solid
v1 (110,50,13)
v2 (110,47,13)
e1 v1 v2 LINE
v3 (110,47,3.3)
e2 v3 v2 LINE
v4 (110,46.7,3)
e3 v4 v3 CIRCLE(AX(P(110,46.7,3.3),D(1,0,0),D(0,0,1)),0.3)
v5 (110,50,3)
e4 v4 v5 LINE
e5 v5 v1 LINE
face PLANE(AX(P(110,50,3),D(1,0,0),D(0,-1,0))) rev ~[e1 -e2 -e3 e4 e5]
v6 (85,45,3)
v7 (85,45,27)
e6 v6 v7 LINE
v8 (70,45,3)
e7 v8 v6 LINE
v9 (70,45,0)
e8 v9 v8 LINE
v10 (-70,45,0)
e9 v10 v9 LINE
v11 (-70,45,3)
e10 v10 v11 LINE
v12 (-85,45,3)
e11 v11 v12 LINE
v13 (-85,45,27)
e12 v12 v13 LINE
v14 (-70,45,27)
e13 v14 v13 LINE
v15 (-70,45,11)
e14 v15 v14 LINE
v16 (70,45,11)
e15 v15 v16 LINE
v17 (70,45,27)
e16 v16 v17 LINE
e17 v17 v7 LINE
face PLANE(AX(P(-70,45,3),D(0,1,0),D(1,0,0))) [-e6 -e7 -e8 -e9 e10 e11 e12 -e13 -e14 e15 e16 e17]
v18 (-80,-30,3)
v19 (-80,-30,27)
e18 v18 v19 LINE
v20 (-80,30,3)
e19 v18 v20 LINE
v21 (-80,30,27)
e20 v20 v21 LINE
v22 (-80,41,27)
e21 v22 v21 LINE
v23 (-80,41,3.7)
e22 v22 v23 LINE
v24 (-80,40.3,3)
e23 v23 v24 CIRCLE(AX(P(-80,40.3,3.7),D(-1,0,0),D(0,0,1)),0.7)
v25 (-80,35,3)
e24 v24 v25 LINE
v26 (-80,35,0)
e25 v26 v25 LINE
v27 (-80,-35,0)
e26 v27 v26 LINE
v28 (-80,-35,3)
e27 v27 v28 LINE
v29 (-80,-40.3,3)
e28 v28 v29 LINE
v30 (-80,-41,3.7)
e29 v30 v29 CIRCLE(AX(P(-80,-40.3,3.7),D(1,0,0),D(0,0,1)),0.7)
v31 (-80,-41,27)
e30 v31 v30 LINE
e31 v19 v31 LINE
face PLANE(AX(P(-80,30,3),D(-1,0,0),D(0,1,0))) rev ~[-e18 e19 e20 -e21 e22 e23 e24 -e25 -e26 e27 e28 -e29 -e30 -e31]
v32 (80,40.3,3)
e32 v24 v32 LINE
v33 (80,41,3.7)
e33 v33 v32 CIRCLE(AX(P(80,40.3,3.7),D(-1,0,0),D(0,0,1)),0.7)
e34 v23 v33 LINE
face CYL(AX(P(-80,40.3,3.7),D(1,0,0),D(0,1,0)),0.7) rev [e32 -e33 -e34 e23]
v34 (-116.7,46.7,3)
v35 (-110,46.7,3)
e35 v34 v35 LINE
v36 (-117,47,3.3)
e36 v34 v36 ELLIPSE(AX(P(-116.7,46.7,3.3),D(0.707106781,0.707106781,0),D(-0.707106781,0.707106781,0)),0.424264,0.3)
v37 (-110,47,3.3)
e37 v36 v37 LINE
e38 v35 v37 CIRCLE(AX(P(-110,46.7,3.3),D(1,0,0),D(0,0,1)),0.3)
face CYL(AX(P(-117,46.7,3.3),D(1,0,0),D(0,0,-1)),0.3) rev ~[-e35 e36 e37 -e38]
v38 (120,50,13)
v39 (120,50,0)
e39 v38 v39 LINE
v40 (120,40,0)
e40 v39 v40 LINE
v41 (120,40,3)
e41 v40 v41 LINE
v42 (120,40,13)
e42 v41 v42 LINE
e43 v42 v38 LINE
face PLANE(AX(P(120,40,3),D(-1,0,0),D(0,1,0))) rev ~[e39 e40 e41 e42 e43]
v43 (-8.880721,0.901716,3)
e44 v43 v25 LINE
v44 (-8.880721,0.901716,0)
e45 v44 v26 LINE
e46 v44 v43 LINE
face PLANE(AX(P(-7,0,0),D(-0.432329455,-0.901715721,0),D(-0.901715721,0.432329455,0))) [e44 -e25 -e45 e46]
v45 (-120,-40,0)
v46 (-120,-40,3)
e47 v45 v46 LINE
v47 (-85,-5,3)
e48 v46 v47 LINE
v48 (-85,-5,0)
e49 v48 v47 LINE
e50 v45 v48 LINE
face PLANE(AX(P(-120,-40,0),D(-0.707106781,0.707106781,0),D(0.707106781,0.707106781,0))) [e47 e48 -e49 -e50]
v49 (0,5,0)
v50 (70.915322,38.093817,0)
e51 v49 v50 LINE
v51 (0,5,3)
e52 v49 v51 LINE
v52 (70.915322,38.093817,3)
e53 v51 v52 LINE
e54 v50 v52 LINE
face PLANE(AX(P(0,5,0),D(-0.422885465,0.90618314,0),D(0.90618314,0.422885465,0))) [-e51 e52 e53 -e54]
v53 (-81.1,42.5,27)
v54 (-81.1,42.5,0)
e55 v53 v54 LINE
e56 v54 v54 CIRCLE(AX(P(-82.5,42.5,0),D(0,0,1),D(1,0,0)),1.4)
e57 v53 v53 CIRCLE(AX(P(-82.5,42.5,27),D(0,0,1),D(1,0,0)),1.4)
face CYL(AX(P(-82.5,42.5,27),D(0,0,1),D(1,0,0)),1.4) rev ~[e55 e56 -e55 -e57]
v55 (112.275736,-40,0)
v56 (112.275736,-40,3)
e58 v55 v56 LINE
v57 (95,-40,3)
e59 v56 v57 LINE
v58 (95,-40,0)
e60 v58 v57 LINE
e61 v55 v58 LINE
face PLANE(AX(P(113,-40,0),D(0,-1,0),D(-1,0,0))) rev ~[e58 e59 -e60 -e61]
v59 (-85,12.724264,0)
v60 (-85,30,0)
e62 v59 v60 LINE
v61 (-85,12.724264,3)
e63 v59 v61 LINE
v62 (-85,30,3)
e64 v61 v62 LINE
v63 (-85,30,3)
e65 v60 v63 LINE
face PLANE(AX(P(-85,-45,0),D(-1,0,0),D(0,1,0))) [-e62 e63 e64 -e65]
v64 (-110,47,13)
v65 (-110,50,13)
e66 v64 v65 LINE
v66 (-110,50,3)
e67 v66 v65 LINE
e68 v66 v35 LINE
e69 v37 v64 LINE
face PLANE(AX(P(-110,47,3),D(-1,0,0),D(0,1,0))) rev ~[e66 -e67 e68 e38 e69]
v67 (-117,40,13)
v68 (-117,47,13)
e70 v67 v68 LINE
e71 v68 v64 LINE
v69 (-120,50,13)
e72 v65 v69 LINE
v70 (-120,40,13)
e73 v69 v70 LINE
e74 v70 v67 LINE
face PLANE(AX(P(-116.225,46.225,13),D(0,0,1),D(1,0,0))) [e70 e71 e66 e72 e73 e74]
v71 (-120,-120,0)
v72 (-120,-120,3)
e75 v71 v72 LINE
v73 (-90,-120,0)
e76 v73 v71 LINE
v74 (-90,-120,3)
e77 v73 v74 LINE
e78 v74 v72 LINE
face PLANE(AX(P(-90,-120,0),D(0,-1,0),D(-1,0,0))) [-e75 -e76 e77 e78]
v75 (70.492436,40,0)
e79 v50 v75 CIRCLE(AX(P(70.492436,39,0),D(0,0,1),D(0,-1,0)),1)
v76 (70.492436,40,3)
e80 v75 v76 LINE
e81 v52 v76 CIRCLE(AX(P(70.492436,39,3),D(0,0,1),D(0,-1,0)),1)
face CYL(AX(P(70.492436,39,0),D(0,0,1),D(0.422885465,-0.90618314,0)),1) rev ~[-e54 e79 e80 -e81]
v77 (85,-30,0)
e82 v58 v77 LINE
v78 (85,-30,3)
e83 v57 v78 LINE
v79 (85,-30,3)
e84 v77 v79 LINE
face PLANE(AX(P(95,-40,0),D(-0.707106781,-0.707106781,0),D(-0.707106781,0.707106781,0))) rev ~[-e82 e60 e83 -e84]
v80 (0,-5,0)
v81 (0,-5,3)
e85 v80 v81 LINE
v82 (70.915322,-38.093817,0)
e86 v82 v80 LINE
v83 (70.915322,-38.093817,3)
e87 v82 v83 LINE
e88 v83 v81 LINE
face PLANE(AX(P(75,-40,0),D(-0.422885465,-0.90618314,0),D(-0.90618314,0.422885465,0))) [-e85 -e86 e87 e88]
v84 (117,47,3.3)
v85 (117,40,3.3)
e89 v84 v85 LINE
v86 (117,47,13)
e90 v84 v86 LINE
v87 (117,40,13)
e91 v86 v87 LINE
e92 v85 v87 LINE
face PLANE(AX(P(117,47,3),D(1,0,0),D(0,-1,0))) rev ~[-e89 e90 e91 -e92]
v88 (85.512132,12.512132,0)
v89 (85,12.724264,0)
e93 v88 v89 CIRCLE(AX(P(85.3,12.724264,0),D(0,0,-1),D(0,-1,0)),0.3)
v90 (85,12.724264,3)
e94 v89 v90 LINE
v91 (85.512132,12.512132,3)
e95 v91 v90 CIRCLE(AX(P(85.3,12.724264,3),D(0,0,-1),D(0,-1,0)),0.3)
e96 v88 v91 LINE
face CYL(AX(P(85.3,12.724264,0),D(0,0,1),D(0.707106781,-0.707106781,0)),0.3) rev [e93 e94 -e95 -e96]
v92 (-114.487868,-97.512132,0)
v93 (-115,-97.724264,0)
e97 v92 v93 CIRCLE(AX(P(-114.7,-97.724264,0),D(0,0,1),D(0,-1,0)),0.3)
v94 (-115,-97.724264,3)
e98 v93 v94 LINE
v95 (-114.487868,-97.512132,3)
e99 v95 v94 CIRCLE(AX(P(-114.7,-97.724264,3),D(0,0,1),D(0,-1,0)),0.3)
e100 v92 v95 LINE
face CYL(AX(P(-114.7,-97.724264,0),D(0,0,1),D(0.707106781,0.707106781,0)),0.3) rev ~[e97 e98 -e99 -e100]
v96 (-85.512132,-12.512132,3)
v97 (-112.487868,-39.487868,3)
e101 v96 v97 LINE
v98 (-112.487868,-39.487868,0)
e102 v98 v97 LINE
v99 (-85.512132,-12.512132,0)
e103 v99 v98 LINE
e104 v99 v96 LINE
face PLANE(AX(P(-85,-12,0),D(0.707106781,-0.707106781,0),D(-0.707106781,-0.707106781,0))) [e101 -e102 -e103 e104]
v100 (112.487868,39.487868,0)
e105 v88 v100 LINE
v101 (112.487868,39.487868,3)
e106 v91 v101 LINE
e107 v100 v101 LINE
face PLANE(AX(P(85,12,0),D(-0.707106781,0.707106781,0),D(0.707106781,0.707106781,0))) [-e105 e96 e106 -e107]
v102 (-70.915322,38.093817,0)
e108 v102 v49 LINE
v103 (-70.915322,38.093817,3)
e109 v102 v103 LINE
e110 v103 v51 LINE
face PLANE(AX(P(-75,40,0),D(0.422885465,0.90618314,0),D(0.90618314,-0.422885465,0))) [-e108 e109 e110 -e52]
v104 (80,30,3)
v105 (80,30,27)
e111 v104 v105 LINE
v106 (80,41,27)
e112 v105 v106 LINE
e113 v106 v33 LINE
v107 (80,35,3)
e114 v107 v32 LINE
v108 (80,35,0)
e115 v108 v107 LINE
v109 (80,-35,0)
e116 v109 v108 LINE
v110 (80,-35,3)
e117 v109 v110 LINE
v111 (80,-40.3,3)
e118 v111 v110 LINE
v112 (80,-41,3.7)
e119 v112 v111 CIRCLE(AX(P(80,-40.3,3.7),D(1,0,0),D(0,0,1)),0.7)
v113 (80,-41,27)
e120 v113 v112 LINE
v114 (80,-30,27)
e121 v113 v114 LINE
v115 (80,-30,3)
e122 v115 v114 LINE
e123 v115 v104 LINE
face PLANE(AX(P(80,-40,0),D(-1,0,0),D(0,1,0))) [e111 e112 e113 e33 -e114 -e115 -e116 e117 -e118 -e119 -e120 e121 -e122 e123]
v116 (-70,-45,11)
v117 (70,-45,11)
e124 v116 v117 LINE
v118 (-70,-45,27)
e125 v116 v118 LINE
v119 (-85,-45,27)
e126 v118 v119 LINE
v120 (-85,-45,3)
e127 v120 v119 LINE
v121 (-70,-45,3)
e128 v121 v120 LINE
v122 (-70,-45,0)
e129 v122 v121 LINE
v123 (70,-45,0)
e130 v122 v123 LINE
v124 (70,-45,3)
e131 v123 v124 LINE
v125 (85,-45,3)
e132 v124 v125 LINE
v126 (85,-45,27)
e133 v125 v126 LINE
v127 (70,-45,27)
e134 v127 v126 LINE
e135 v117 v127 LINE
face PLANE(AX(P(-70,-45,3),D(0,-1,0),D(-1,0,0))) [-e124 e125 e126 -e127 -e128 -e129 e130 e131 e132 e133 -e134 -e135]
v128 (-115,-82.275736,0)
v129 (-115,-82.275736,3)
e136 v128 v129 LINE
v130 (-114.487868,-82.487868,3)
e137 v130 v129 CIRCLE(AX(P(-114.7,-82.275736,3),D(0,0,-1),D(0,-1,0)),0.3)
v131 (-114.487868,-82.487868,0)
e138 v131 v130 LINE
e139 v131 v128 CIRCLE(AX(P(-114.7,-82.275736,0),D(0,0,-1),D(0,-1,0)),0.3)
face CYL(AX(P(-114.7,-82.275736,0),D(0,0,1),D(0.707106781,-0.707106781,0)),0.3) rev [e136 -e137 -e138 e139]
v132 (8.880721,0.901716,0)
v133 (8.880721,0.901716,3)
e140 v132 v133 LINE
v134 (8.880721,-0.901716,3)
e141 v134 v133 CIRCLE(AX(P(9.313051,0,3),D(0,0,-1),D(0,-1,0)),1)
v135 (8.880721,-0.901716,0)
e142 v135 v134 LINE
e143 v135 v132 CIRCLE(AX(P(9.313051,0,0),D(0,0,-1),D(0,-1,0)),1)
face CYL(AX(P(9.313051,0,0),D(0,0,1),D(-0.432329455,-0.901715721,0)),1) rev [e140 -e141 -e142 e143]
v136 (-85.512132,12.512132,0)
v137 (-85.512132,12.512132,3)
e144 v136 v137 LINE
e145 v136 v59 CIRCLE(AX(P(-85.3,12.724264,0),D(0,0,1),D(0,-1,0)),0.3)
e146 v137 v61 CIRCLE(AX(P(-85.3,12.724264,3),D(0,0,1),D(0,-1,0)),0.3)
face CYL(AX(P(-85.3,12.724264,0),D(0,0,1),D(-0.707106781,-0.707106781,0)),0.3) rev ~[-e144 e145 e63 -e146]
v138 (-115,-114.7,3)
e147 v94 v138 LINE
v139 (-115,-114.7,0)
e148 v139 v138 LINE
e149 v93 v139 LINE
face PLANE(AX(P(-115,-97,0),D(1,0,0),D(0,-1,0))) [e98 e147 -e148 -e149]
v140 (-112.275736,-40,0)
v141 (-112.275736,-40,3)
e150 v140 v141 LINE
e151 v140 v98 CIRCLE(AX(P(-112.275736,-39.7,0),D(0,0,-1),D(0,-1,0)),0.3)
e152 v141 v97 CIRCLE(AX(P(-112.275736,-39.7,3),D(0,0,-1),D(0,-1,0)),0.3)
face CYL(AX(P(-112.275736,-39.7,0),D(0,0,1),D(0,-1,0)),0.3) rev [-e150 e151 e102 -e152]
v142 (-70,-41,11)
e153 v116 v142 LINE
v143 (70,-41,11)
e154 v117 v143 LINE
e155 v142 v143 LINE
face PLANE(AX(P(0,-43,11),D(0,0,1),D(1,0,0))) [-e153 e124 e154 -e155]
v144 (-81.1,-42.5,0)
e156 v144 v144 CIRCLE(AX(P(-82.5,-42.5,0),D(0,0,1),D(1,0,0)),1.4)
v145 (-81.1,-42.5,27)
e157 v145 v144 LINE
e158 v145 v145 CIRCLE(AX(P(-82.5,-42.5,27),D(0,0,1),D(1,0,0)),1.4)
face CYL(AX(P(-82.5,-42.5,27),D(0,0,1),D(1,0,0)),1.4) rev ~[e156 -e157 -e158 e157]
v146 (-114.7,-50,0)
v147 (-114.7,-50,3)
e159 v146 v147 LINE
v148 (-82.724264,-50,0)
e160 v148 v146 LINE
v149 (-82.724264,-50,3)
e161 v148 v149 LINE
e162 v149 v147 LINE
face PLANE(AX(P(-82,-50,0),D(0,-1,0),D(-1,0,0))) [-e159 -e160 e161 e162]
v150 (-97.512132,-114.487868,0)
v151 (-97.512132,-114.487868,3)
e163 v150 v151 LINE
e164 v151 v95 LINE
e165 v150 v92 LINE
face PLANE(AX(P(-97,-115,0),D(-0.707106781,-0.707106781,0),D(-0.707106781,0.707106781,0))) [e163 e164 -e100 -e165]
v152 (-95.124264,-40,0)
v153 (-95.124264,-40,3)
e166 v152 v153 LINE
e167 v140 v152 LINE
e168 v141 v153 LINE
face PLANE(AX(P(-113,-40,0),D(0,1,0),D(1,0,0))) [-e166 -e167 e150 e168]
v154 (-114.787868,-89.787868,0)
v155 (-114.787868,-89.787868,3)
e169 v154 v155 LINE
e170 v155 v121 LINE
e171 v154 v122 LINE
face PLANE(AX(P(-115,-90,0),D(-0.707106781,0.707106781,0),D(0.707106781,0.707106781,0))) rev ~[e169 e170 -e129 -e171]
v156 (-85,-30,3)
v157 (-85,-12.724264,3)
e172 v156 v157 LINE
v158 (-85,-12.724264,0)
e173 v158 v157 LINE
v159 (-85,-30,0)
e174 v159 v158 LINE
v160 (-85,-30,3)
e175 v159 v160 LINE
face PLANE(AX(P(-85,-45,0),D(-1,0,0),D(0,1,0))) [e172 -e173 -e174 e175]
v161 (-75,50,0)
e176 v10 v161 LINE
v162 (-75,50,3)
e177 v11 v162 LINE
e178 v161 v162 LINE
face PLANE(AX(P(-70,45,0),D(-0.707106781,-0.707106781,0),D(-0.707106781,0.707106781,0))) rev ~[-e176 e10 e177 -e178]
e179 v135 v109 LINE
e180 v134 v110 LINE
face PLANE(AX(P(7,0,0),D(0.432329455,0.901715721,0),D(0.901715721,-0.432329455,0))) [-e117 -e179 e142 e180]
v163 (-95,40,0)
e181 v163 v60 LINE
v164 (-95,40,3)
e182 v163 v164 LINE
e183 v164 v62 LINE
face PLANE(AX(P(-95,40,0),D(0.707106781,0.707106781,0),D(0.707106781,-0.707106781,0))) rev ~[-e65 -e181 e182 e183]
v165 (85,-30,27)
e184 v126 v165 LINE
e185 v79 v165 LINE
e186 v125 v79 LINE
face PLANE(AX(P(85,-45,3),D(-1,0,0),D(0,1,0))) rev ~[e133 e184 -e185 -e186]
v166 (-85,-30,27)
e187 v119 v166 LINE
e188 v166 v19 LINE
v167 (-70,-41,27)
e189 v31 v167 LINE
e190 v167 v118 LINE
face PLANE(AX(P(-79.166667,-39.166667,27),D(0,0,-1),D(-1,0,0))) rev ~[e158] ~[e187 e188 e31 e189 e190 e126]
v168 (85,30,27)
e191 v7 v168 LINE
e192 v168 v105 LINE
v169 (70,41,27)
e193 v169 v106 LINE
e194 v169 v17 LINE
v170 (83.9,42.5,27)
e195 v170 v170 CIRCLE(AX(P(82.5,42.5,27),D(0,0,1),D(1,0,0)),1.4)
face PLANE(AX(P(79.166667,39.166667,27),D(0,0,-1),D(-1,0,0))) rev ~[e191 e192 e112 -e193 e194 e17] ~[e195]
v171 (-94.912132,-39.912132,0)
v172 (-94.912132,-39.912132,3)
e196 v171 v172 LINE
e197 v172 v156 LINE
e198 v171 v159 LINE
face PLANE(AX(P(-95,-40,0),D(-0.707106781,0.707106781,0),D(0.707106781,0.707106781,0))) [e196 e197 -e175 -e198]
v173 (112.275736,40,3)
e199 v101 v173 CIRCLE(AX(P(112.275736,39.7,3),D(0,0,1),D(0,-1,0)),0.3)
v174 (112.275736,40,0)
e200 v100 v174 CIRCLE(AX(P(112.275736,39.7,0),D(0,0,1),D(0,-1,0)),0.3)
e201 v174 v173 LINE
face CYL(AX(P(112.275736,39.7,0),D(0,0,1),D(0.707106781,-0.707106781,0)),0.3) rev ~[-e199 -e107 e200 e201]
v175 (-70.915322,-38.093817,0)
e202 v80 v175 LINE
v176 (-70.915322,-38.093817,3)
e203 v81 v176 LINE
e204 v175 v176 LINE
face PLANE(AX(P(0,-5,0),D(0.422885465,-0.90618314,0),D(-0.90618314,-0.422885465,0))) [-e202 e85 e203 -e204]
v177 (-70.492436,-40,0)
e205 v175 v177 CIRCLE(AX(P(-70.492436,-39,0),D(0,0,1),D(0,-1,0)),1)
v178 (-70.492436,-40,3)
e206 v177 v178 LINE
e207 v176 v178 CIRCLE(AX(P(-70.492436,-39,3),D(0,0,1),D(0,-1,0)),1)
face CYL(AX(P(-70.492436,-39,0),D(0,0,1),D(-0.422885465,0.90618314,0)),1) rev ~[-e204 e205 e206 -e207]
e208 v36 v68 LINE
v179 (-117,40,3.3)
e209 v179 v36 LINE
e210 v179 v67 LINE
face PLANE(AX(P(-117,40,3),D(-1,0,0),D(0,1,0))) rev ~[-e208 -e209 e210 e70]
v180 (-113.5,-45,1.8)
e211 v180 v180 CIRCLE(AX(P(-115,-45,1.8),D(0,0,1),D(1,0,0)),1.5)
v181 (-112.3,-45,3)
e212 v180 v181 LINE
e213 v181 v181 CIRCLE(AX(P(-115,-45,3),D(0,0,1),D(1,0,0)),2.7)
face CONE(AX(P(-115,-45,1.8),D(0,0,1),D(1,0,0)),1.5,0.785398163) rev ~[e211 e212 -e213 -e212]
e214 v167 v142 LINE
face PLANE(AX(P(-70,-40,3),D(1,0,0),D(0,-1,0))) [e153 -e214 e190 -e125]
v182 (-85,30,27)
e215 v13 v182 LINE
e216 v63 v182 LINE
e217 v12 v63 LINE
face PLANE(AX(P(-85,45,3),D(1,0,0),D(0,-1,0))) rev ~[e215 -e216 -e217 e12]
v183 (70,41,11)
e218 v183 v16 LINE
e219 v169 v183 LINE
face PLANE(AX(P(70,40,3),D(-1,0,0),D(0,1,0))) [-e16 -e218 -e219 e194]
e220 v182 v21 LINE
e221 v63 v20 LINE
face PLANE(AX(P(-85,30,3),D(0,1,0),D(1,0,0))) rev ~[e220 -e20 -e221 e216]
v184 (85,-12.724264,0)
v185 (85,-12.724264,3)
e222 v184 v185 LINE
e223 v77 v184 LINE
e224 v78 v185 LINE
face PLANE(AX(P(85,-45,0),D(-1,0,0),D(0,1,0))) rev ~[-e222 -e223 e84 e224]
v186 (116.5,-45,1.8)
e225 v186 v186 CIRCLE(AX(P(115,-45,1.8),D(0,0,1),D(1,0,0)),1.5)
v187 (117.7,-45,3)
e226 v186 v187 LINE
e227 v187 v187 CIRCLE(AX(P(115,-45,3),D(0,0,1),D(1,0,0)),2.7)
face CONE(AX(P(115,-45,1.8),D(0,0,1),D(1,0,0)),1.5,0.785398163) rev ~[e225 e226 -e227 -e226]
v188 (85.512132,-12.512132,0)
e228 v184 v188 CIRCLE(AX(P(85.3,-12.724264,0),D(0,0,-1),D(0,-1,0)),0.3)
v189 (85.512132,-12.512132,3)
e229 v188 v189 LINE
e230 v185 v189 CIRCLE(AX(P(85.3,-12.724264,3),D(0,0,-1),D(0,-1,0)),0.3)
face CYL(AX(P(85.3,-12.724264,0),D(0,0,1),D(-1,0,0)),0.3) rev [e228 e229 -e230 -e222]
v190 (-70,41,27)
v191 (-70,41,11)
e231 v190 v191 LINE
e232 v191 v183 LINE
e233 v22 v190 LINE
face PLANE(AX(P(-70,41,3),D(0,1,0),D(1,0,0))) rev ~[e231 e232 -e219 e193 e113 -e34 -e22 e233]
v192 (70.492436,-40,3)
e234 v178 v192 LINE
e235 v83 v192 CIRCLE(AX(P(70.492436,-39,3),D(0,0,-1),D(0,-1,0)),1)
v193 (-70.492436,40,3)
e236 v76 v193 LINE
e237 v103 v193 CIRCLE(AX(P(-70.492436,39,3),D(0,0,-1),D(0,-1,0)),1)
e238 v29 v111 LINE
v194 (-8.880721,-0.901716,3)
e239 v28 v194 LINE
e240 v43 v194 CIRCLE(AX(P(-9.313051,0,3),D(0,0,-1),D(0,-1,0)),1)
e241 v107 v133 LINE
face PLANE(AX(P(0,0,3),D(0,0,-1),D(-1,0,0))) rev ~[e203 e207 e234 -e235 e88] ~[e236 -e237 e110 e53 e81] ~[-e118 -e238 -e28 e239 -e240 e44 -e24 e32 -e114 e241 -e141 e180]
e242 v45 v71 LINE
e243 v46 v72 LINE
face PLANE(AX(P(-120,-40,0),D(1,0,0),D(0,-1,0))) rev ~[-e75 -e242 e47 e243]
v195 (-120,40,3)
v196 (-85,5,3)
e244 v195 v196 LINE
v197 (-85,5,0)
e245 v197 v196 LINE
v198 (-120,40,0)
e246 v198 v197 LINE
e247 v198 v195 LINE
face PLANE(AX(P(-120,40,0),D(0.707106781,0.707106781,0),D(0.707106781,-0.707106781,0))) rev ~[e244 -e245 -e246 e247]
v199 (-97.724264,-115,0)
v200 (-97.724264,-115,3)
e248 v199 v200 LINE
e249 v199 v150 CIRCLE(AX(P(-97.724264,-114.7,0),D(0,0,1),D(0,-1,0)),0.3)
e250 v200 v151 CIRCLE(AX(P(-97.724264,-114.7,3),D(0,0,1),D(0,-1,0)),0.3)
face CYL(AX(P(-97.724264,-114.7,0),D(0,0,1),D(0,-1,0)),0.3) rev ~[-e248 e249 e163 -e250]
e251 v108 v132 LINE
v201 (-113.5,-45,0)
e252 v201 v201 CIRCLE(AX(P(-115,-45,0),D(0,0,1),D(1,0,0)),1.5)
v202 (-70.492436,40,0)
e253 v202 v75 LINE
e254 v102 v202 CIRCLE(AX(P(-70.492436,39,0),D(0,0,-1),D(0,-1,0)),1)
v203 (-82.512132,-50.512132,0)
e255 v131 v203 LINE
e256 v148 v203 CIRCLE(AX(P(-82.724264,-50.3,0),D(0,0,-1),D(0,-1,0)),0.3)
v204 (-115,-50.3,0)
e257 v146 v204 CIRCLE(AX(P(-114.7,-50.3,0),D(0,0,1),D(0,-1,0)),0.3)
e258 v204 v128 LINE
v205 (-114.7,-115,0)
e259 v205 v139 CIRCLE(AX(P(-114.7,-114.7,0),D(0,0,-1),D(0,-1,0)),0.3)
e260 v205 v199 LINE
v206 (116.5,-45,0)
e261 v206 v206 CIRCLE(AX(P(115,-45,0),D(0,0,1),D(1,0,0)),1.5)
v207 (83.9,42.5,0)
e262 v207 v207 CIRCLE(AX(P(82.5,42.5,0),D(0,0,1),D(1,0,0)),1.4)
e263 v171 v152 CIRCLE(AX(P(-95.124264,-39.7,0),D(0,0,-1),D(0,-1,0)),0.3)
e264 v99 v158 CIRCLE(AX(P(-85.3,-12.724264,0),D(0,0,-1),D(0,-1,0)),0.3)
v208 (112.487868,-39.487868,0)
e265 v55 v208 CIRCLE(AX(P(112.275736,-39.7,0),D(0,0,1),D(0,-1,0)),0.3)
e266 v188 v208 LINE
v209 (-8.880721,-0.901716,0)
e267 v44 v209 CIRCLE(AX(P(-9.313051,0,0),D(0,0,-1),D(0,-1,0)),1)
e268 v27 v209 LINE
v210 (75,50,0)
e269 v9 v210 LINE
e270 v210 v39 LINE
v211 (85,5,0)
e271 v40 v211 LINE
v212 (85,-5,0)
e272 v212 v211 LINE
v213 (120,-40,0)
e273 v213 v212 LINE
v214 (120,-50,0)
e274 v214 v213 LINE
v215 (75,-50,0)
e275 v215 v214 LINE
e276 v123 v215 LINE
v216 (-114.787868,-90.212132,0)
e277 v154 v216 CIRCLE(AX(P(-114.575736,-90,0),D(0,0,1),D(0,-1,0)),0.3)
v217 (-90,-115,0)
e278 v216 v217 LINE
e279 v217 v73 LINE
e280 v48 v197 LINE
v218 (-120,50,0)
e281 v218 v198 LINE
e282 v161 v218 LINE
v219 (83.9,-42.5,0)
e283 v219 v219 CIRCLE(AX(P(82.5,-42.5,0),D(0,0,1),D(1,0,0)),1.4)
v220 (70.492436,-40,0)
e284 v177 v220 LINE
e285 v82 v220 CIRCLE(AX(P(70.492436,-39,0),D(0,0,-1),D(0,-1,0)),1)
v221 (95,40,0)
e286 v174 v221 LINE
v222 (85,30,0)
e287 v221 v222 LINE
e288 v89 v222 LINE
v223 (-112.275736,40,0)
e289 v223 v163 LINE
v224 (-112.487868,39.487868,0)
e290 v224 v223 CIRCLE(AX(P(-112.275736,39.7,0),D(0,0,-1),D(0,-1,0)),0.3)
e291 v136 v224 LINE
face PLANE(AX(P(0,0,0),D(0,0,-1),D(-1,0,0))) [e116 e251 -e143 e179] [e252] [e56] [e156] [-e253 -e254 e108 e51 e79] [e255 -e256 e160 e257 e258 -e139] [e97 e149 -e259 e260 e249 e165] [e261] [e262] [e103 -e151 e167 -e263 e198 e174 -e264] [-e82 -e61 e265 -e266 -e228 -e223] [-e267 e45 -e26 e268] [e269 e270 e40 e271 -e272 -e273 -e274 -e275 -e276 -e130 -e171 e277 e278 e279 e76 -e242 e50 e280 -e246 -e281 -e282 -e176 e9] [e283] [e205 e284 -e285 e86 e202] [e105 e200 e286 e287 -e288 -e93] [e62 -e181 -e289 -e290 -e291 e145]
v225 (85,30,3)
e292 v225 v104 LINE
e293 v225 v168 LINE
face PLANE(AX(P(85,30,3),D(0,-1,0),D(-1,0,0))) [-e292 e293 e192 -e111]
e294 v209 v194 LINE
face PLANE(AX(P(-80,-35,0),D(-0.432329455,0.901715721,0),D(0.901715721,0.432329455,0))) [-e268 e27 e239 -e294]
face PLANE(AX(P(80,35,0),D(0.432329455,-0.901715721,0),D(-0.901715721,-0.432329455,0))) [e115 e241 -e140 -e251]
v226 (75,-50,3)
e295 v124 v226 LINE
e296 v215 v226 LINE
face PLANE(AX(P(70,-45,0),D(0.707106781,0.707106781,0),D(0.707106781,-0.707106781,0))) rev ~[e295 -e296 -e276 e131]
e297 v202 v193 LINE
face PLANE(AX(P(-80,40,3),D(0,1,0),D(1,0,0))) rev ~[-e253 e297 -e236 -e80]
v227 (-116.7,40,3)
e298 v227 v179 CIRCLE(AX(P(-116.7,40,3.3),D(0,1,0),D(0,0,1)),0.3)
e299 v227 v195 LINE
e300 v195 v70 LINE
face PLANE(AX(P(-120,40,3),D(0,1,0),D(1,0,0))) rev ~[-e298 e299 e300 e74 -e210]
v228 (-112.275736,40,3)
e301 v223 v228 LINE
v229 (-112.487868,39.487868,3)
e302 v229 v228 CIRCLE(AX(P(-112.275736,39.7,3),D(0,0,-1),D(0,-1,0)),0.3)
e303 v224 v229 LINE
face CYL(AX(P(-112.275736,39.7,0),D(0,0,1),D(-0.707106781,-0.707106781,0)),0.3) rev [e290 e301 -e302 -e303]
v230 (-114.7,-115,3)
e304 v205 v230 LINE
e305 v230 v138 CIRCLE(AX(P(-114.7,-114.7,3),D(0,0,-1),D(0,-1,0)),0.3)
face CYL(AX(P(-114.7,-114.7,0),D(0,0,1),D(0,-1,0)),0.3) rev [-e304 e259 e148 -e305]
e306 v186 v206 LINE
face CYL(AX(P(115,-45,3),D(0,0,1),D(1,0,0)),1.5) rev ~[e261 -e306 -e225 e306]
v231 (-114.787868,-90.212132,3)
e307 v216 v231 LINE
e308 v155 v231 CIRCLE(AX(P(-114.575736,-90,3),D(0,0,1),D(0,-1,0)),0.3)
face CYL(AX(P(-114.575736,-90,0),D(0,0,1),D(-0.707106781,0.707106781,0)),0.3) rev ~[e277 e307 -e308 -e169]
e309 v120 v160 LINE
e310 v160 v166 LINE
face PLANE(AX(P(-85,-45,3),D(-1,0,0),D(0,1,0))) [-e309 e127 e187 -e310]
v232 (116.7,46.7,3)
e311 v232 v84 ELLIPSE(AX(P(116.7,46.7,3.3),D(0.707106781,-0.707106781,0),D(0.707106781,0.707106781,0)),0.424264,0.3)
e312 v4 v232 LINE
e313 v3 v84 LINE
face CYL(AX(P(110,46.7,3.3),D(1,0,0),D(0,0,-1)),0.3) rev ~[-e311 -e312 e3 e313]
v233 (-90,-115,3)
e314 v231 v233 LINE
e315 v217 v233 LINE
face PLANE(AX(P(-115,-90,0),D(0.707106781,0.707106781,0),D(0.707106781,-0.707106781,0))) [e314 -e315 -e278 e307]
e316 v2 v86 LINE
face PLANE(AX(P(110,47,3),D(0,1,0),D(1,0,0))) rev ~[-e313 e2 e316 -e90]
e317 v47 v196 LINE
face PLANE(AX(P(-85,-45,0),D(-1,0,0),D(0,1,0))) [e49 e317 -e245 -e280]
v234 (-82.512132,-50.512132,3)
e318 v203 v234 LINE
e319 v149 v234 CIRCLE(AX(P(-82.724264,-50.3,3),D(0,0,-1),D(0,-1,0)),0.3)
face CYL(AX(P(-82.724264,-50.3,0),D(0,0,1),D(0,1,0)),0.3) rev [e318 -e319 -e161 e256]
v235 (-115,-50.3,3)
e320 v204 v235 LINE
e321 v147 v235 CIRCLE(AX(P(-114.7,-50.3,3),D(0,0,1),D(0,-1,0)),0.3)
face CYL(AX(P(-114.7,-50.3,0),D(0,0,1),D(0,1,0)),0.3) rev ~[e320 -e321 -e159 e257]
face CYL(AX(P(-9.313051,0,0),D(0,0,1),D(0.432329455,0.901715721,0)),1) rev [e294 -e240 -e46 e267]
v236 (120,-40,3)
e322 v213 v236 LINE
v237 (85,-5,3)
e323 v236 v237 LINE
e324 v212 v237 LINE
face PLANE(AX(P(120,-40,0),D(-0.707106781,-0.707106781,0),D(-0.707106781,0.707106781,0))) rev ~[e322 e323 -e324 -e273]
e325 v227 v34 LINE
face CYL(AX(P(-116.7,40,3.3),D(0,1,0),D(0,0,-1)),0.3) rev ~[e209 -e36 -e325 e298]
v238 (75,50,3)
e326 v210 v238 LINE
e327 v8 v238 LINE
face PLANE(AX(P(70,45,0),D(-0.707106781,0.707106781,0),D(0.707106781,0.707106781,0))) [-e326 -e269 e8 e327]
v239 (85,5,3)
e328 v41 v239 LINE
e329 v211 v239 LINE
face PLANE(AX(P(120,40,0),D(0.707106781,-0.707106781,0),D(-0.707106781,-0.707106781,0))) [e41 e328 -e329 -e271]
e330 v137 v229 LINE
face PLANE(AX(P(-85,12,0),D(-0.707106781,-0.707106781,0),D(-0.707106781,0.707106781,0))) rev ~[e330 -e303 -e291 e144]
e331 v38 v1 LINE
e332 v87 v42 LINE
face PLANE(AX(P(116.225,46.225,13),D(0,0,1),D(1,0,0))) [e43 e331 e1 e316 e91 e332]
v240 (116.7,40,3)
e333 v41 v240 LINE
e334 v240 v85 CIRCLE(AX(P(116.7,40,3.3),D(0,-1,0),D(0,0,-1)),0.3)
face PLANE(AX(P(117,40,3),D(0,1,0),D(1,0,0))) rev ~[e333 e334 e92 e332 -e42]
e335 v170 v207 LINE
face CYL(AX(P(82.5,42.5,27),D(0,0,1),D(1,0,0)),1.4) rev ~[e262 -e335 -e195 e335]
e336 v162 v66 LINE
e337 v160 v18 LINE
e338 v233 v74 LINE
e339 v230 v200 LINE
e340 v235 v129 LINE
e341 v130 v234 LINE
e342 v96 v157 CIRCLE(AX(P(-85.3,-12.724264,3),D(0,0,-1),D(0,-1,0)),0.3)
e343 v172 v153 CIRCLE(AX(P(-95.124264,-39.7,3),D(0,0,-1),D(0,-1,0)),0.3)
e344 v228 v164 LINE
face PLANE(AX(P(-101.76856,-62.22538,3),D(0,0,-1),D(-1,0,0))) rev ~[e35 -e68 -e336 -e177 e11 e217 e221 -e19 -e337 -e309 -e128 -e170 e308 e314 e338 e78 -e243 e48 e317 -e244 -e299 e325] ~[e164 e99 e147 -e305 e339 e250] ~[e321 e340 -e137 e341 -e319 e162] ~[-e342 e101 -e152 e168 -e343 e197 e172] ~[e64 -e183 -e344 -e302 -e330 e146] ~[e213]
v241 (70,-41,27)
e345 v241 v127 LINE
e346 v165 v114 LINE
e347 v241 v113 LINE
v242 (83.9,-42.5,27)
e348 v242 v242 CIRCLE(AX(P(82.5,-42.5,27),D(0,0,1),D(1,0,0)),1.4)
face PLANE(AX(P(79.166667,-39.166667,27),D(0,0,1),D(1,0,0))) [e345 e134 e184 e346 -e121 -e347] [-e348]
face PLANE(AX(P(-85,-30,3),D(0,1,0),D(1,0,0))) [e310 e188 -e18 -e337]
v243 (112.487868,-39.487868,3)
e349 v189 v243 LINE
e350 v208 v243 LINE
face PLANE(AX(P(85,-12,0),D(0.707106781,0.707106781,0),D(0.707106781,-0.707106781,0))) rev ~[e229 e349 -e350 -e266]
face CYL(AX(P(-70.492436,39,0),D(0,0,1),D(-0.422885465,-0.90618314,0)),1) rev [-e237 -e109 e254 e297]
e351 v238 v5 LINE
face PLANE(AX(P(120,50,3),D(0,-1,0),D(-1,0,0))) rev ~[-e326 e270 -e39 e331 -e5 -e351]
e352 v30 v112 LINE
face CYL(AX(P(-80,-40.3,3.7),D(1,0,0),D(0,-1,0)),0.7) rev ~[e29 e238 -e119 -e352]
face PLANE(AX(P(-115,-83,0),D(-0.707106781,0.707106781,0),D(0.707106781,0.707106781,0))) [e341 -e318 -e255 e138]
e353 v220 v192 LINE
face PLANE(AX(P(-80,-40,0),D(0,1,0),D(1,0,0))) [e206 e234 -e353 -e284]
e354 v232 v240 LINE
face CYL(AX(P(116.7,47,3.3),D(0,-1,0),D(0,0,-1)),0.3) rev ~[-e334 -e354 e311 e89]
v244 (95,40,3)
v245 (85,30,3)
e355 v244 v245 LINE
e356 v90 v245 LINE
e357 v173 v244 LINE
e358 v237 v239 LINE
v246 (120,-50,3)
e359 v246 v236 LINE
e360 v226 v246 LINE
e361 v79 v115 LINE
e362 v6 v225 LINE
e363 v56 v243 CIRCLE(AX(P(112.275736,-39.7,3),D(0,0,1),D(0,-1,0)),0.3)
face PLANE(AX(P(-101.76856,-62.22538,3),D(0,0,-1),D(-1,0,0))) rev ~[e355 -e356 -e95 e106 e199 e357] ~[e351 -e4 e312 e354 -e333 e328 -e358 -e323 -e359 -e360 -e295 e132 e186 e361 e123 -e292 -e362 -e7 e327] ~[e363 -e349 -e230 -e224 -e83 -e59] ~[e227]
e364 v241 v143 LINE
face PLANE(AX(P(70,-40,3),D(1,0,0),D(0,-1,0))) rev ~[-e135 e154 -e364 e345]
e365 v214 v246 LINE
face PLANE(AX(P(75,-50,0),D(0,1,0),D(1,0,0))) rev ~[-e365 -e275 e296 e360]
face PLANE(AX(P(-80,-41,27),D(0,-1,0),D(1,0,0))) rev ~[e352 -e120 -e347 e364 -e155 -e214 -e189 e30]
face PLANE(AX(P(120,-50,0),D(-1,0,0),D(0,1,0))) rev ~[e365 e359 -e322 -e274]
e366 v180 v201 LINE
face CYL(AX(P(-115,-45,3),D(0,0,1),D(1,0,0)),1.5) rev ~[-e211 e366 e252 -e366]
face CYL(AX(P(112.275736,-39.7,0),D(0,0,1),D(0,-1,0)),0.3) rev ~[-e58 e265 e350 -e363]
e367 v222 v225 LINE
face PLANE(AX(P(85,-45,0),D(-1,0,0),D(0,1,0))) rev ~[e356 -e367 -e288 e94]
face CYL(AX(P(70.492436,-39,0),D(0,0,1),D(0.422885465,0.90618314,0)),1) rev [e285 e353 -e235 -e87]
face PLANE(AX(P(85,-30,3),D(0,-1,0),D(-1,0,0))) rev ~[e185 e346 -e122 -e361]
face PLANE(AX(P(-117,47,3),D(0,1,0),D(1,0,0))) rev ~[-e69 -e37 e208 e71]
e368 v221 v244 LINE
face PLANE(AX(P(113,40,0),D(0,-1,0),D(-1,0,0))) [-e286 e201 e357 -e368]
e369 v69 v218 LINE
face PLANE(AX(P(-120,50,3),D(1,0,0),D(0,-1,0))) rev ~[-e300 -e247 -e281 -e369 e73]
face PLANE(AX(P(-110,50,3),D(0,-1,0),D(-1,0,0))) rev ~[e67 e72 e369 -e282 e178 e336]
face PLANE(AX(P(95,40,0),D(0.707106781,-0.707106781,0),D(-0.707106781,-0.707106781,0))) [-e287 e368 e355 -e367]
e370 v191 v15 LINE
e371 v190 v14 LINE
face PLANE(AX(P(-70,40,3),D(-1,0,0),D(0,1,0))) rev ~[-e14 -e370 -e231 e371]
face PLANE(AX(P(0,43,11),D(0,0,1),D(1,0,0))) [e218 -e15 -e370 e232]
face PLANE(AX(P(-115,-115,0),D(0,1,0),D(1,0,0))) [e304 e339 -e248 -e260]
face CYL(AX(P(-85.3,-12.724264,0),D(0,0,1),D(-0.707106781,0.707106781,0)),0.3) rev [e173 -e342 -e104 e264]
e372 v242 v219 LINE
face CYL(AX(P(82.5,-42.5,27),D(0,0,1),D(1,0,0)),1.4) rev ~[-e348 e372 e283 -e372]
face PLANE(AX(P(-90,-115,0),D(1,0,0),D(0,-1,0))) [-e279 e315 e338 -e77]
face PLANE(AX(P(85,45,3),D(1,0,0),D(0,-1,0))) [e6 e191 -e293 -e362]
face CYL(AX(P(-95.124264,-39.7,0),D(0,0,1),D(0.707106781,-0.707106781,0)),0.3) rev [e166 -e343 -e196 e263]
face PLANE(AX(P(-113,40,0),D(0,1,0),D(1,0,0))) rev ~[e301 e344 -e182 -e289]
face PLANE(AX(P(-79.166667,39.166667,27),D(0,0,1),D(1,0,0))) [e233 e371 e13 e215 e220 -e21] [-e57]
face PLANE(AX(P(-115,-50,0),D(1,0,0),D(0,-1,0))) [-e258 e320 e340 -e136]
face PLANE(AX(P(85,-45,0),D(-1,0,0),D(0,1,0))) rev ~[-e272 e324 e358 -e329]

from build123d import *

# Parameters (mm, degrees)
SKETCH003_W     = 170
SKETCH003_H     = 90
SKETCH003_W_2   = 160
SKETCH003_H_2   = 80
PAD_DEPTH       = 3
PAD001_DEPTH    = 3
PAD002_DEPTH    = 3
PAD003_DEPTH    = 3
PAD004_DEPTH    = 3
PAD005_DEPTH    = 10
PAD006_DEPTH    = 10
PAD007_DEPTH    = 24
SKETCH014_R     = 1.65
HOLE_DEPTH      = 30
SKETCH015_R     = 1.325
HOLE001_DEPTH   = 30
SKETCH016_R     = 1.325
HOLE002_DEPTH   = 30
SKETCH017_R     = 1.325
HOLE003_DEPTH   = 30
FILLET_R        = 0.3
FILLET001_R     = 0.3
FILLET002_R     = 0.3
FILLET003_R     = 0.3
FILLET004_R     = 0.3
FILLET005_R     = 0.3
FILLET006_R     = 0.3
FILLET007_R     = 0.3
FILLET008_R     = 0.3
FILLET009_R     = 0.3
SKETCH018_W     = 3.707428
SKETCH018_H     = 3.707435
PAD008_DEPTH    = 27
SKETCH019_W     = 4.325348
SKETCH019_H     = 3.769226
PAD009_DEPTH    = 27
SKETCH020_W     = 4.473305
SKETCH020_H     = 4.349049
PAD010_DEPTH    = 27
SKETCH021_W     = 3.413819
SKETCH021_H     = 3.638272
PAD011_DEPTH    = 27
SKETCH023_R     = 1.4
POCKET_DEPTH    = 30
SKETCH024_R     = 1.4
POCKET001_DEPTH = 30
SKETCH025_R     = 1.4
POCKET002_DEPTH = 30
SKETCH026_R     = 1.4
POCKET003_DEPTH = 30
SKETCH027_R     = 1.5
POCKET004_DEPTH = 5
CHAMFER_SIZE    = 1.2
SKETCH028_W     = 10
SKETCH028_H     = 1
POCKET005_DEPTH = 24
SKETCH029_W     = 10
SKETCH029_H     = 1
POCKET006_DEPTH = 24
SKETCH030_W     = 10
SKETCH030_H     = 1
POCKET007_DEPTH = 24
PAD012_DEPTH    = 3
SKETCH032_W     = 140
SKETCH032_H     = 4
PAD013_DEPTH    = 8
FILLET010_R     = 0.7
FILLET011_R     = 1


with BuildPart() as part:
    # Sketch003 → Pad (new body)
    with BuildSketch(Plane.XY):
        Rectangle(SKETCH003_W, SKETCH003_H)
        Rectangle(SKETCH003_W_2, SKETCH003_H_2, mode=Mode.SUBTRACT)
    extrude(amount=PAD_DEPTH)

    # Sketch005 → Pad001 (join)
    with BuildSketch(Plane.XY):
        Polygon((-70, 45), (-75, 50), (-120, 50), (-120, 40), (-85, 5), (-85, 12), (-113, 40), (-95, 40), (-85, 30), (-85, 45), align=None)
    extrude(amount=PAD001_DEPTH)

    # Sketch007 → Pad002 (join)
    with BuildSketch(Plane.XY):
        Polygon((70, 45), (75, 50), (120, 50), (120, 40), (85, 5), (85, 12), (113, 40), (95, 40), (85, 30), (85, 45), align=None)
    extrude(amount=PAD002_DEPTH)

    # Sketch008 → Pad003 (join)
    with BuildSketch(Plane.XY):
        Polygon((70, -45), (75, -50), (120, -50), (120, -40), (85, -5), (85, -12), (113, -40), (95, -40), (85, -30), (85, -45), align=None)
    extrude(amount=PAD003_DEPTH)

    # Sketch009 → Pad004 (join)
    with BuildSketch(Plane.XY):
        Polygon((-70, -45), (-75, -50), (-115, -90), (-90, -115), (-90, -120), (-120, -120), (-120, -50), (-120, -40), (-85, -5), (-85, -12), (-113, -40), (-95, -40), (-85, -30), (-85, -45), align=None)
        Polygon((-115, -50), (-115, -83), (-82, -50), align=None, mode=Mode.SUBTRACT)
        Polygon((-115, -97), (-115, -115), (-97, -115), align=None, mode=Mode.SUBTRACT)
    extrude(amount=PAD004_DEPTH)

    # Sketch011 (on Face23 of Pad004) → Pad005 (join)
    with BuildSketch(Plane.XY.offset(3)):
        Polygon((-120, 50), (-120, 40), (-117, 40), (-117, 47), (-110, 47), (-110, 50), align=None)
    extrude(amount=PAD005_DEPTH)

    # Sketch012 (on Face22 of Pad005) → Pad006 (join)
    with BuildSketch(Plane.XY.offset(3)):
        Polygon((120, 50), (110, 50), (110, 47), (117, 47), (117, 40), (120, 40), align=None)
    extrude(amount=PAD006_DEPTH)

    # Sketch013 (on Face4 of Pad006) → Pad007 (join)
    with BuildSketch(Plane.XY.offset(3)):
        Polygon((-85, 45), (-85, 30), (-80, 30), (-80, 40), (-70, 40), (-70, 45), align=None)
        Polygon((85, 45), (85, 30), (80, 30), (80, 40), (70, 40), (70, 45), align=None)
        Polygon((85, -45), (85, -30), (80, -30), (80, -40), (70, -40), (70, -45), align=None)
        Polygon((-85, -45), (-85, -30), (-80, -30), (-80, -40), (-70, -40), (-70, -45), align=None)
    extrude(amount=PAD007_DEPTH)

    # Sketch014 (on Face80 of Pad007) → Hole (cut)
    with BuildSketch(Plane.XY.offset(27)):
        with Locations((-82.5, 42.5)):
            Circle(SKETCH014_R)
    extrude(amount=-HOLE_DEPTH, mode=Mode.SUBTRACT)

    # Sketch015 (on Face99 of Hole) → Hole001 (cut)
    with BuildSketch(Plane.XY.offset(27)):
        with Locations((-82.5, -42.5)):
            Circle(SKETCH015_R)
    extrude(amount=-HOLE001_DEPTH, mode=Mode.SUBTRACT)

    # Sketch016 (on Face84 of Hole001) → Hole002 (cut)
    with BuildSketch(Plane.XY.offset(27)):
        with Locations((82.5, 42.5)):
            Circle(SKETCH016_R)
    extrude(amount=-HOLE002_DEPTH, mode=Mode.SUBTRACT)

    # Sketch017 (on Face104 of Hole002) → Hole003 (cut)
    with BuildSketch(Plane.XY.offset(27)):
        with Locations((82.5, -42.5)):
            Circle(SKETCH017_R)
    extrude(amount=-HOLE003_DEPTH, mode=Mode.SUBTRACT)

    # Fillet
    fillet_edges = [part.edges().sort_by_distance(p)[0] for p in [
        (-115, -97, 1.5),
    ]]
    fillet(fillet_edges, radius=FILLET_R)

    # Fillet001
    fillet001_edges = [part.edges().sort_by_distance(p)[0] for p in [
        (-115, -115, 1.5),
    ]]
    fillet(fillet001_edges, radius=FILLET001_R)

    # Fillet002
    fillet002_edges = [part.edges().sort_by_distance(p)[0] for p in [
        (-97, -115, 1.5),
    ]]
    fillet(fillet002_edges, radius=FILLET002_R)

    # Fillet003
    fillet003_edges = [part.edges().sort_by_distance(p)[0] for p in [
        (-115, -90, 1.5),
    ]]
    fillet(fillet003_edges, radius=FILLET003_R)

    # Fillet004
    fillet004_edges = [part.edges().sort_by_distance(p)[0] for p in [
        (-115, -50, 1.5),
        (-115, -83, 1.5),
        (-82, -50, 1.5),
    ]]
    fillet(fillet004_edges, radius=FILLET004_R)

    # Fillet005
    fillet005_edges = [part.edges().sort_by_distance(p)[0] for p in [
        (-95, -40, 1.5),
        (-85, -12, 1.5),
        (-113, -40, 1.5),
    ]]
    fillet(fillet005_edges, radius=FILLET005_R)

    # Fillet006
    fillet006_edges = [part.edges().sort_by_distance(p)[0] for p in [
        (-117, 43.5, 3),
        (-113.5, 47, 3),
    ]]
    fillet(fillet006_edges, radius=FILLET006_R)

    # Fillet007
    fillet007_edges = [part.edges().sort_by_distance(p)[0] for p in [
        (-113, 40, 1.5),
        (-85, 12, 1.5),
    ]]
    fillet(fillet007_edges, radius=FILLET007_R)

    # Fillet008
    fillet008_edges = [part.edges().sort_by_distance(p)[0] for p in [
        (113.5, 47, 3),
        (117, 43.5, 3),
        (113, 40, 1.5),
        (85, 12, 1.5),
    ]]
    fillet(fillet008_edges, radius=FILLET008_R)

    # Fillet009
    fillet009_edges = [part.edges().sort_by_distance(p)[0] for p in [
        (113, -40, 1.5),
        (85, -12, 1.5),
    ]]
    fillet(fillet009_edges, radius=FILLET009_R)

    # Sketch018 (on Face81 of Fillet009) → Pad008 (join)
    with BuildSketch(Plane.XY.offset(27)):
        with Locations((82.542801, -42.437325)):
            Rectangle(SKETCH018_W, SKETCH018_H)
    extrude(amount=-PAD008_DEPTH)

    # Sketch019 (on Face37 of Pad008) → Pad009 (join)
    with BuildSketch(Plane.XY.offset(27)):
        with Locations((82.440964, 42.612553)):
            Rectangle(SKETCH019_W, SKETCH019_H)
    extrude(amount=-PAD009_DEPTH)

    # Sketch020 (on Face85 of Pad009) → Pad010 (join)
    with BuildSketch(Plane.XY.offset(27)):
        with Locations((-82.434589, 42.41842)):
            Rectangle(SKETCH020_W, SKETCH020_H)
    extrude(amount=-PAD010_DEPTH)

    # Sketch021 (on Face18 of Pad010) → Pad011 (join)
    with BuildSketch(Plane.XY.offset(27)):
        with Locations((-82.443809, -42.548483)):
            Rectangle(SKETCH021_W, SKETCH021_H)
    extrude(amount=-PAD011_DEPTH)

    # Sketch023 (on Face83 of Pad011) → Pocket (cut)
    with BuildSketch(Plane.XY.offset(27)):
        with Locations((-82.5, 42.5)):
            Circle(SKETCH023_R)
    extrude(amount=-POCKET_DEPTH, mode=Mode.SUBTRACT)

    # Sketch024 (on Face99 of Hole) → Pocket001 (cut)
    with BuildSketch(Plane.XY.offset(27)):
        with Locations((-82.5, -42.5)):
            Circle(SKETCH024_R)
    extrude(amount=-POCKET001_DEPTH, mode=Mode.SUBTRACT)

    # Sketch025 (on Face84 of Hole001) → Pocket002 (cut)
    with BuildSketch(Plane.XY.offset(27)):
        with Locations((82.5, 42.5)):
            Circle(SKETCH025_R)
    extrude(amount=-POCKET002_DEPTH, mode=Mode.SUBTRACT)

    # Sketch026 (on Face104 of Hole002) → Pocket003 (cut)
    with BuildSketch(Plane.XY.offset(27)):
        with Locations((82.5, -42.5)):
            Circle(SKETCH026_R)
    extrude(amount=-POCKET003_DEPTH, mode=Mode.SUBTRACT)

    # Sketch027 (on Face6 of Pocket003) → Pocket004 (cut)
    with BuildSketch(Plane.XY.offset(3)):
        with Locations((-115, -45)):
            Circle(SKETCH027_R)
        with Locations((115, -45)):
            Circle(SKETCH027_R)
    extrude(amount=-POCKET004_DEPTH, mode=Mode.SUBTRACT)

    # Chamfer
    chamfer_edges = [part.edges().sort_by_distance(p)[0] for p in [
        (-116.5, -45, 3),
        (113.5, -45, 3),
    ]]
    chamfer(chamfer_edges, length=CHAMFER_SIZE)

    # Sketch028 (on Face51 of Chamfer) → Pocket005 (cut)
    with BuildSketch(Plane.XY.offset(27)):
        with Locations((-75, 40.5)):
            Rectangle(SKETCH028_W, SKETCH028_H)
    extrude(amount=-POCKET005_DEPTH, mode=Mode.SUBTRACT)

    # Sketch029 (on Face96 of Pocket005) → Pocket006 (cut)
    with BuildSketch(Plane.XY.offset(27)):
        with Locations((75, 40.5)):
            Rectangle(SKETCH029_W, SKETCH029_H)
    extrude(amount=-POCKET006_DEPTH, mode=Mode.SUBTRACT)

    # Sketch030 (on Face98 of Pocket006) → Pocket007 (cut)
    with BuildSketch(Plane.XY.offset(27)):
        with Locations((75, -40.5)):
            Rectangle(SKETCH030_W, SKETCH030_H)
        with Locations((-75, -40.5)):
            Rectangle(SKETCH030_W, SKETCH030_H)
    extrude(amount=-POCKET007_DEPTH, mode=Mode.SUBTRACT)

    # Sketch031 → Pad012 (join)
    with BuildSketch(Plane.XY):
        Polygon((-80, 40), (-75, 40), (0, 5), (75, 40), (80, 40), (80, 35), (7, 0), (80, -35), (80, -40), (75, -40), (0, -5), (-75, -40), (-80, -40), (-80, -35), (-7, 0), (-80, 35), align=None)
    extrude(amount=PAD012_DEPTH)

    # Sketch032 (on Face109 of Pad012) → Pad013 (join)
    with BuildSketch(Plane.XY.offset(3)):
        with Locations((0, 43)):
            Rectangle(SKETCH032_W, SKETCH032_H)
        with Locations((0, -43)):
            Rectangle(SKETCH032_W, SKETCH032_H)
    extrude(amount=PAD013_DEPTH)

    # Fillet010
    fillet010_edges = [part.edges().sort_by_distance(p)[0] for p in [
        (0, 41, 3),
        (0, -41, 3),
    ]]
    fillet(fillet010_edges, radius=FILLET010_R)

    # Fillet011
    fillet011_edges = [part.edges().sort_by_distance(p)[0] for p in [
        (7, 0, 1.5),
        (-7, 0, 1.5),
        (-75, 40, 1.5),
        (-75, -40, 1.5),
        (75, -40, 1.5),
        (75, 40, 1.5),
    ]]
    fillet(fillet011_edges, radius=FILLET011_R)


solid = part.part
